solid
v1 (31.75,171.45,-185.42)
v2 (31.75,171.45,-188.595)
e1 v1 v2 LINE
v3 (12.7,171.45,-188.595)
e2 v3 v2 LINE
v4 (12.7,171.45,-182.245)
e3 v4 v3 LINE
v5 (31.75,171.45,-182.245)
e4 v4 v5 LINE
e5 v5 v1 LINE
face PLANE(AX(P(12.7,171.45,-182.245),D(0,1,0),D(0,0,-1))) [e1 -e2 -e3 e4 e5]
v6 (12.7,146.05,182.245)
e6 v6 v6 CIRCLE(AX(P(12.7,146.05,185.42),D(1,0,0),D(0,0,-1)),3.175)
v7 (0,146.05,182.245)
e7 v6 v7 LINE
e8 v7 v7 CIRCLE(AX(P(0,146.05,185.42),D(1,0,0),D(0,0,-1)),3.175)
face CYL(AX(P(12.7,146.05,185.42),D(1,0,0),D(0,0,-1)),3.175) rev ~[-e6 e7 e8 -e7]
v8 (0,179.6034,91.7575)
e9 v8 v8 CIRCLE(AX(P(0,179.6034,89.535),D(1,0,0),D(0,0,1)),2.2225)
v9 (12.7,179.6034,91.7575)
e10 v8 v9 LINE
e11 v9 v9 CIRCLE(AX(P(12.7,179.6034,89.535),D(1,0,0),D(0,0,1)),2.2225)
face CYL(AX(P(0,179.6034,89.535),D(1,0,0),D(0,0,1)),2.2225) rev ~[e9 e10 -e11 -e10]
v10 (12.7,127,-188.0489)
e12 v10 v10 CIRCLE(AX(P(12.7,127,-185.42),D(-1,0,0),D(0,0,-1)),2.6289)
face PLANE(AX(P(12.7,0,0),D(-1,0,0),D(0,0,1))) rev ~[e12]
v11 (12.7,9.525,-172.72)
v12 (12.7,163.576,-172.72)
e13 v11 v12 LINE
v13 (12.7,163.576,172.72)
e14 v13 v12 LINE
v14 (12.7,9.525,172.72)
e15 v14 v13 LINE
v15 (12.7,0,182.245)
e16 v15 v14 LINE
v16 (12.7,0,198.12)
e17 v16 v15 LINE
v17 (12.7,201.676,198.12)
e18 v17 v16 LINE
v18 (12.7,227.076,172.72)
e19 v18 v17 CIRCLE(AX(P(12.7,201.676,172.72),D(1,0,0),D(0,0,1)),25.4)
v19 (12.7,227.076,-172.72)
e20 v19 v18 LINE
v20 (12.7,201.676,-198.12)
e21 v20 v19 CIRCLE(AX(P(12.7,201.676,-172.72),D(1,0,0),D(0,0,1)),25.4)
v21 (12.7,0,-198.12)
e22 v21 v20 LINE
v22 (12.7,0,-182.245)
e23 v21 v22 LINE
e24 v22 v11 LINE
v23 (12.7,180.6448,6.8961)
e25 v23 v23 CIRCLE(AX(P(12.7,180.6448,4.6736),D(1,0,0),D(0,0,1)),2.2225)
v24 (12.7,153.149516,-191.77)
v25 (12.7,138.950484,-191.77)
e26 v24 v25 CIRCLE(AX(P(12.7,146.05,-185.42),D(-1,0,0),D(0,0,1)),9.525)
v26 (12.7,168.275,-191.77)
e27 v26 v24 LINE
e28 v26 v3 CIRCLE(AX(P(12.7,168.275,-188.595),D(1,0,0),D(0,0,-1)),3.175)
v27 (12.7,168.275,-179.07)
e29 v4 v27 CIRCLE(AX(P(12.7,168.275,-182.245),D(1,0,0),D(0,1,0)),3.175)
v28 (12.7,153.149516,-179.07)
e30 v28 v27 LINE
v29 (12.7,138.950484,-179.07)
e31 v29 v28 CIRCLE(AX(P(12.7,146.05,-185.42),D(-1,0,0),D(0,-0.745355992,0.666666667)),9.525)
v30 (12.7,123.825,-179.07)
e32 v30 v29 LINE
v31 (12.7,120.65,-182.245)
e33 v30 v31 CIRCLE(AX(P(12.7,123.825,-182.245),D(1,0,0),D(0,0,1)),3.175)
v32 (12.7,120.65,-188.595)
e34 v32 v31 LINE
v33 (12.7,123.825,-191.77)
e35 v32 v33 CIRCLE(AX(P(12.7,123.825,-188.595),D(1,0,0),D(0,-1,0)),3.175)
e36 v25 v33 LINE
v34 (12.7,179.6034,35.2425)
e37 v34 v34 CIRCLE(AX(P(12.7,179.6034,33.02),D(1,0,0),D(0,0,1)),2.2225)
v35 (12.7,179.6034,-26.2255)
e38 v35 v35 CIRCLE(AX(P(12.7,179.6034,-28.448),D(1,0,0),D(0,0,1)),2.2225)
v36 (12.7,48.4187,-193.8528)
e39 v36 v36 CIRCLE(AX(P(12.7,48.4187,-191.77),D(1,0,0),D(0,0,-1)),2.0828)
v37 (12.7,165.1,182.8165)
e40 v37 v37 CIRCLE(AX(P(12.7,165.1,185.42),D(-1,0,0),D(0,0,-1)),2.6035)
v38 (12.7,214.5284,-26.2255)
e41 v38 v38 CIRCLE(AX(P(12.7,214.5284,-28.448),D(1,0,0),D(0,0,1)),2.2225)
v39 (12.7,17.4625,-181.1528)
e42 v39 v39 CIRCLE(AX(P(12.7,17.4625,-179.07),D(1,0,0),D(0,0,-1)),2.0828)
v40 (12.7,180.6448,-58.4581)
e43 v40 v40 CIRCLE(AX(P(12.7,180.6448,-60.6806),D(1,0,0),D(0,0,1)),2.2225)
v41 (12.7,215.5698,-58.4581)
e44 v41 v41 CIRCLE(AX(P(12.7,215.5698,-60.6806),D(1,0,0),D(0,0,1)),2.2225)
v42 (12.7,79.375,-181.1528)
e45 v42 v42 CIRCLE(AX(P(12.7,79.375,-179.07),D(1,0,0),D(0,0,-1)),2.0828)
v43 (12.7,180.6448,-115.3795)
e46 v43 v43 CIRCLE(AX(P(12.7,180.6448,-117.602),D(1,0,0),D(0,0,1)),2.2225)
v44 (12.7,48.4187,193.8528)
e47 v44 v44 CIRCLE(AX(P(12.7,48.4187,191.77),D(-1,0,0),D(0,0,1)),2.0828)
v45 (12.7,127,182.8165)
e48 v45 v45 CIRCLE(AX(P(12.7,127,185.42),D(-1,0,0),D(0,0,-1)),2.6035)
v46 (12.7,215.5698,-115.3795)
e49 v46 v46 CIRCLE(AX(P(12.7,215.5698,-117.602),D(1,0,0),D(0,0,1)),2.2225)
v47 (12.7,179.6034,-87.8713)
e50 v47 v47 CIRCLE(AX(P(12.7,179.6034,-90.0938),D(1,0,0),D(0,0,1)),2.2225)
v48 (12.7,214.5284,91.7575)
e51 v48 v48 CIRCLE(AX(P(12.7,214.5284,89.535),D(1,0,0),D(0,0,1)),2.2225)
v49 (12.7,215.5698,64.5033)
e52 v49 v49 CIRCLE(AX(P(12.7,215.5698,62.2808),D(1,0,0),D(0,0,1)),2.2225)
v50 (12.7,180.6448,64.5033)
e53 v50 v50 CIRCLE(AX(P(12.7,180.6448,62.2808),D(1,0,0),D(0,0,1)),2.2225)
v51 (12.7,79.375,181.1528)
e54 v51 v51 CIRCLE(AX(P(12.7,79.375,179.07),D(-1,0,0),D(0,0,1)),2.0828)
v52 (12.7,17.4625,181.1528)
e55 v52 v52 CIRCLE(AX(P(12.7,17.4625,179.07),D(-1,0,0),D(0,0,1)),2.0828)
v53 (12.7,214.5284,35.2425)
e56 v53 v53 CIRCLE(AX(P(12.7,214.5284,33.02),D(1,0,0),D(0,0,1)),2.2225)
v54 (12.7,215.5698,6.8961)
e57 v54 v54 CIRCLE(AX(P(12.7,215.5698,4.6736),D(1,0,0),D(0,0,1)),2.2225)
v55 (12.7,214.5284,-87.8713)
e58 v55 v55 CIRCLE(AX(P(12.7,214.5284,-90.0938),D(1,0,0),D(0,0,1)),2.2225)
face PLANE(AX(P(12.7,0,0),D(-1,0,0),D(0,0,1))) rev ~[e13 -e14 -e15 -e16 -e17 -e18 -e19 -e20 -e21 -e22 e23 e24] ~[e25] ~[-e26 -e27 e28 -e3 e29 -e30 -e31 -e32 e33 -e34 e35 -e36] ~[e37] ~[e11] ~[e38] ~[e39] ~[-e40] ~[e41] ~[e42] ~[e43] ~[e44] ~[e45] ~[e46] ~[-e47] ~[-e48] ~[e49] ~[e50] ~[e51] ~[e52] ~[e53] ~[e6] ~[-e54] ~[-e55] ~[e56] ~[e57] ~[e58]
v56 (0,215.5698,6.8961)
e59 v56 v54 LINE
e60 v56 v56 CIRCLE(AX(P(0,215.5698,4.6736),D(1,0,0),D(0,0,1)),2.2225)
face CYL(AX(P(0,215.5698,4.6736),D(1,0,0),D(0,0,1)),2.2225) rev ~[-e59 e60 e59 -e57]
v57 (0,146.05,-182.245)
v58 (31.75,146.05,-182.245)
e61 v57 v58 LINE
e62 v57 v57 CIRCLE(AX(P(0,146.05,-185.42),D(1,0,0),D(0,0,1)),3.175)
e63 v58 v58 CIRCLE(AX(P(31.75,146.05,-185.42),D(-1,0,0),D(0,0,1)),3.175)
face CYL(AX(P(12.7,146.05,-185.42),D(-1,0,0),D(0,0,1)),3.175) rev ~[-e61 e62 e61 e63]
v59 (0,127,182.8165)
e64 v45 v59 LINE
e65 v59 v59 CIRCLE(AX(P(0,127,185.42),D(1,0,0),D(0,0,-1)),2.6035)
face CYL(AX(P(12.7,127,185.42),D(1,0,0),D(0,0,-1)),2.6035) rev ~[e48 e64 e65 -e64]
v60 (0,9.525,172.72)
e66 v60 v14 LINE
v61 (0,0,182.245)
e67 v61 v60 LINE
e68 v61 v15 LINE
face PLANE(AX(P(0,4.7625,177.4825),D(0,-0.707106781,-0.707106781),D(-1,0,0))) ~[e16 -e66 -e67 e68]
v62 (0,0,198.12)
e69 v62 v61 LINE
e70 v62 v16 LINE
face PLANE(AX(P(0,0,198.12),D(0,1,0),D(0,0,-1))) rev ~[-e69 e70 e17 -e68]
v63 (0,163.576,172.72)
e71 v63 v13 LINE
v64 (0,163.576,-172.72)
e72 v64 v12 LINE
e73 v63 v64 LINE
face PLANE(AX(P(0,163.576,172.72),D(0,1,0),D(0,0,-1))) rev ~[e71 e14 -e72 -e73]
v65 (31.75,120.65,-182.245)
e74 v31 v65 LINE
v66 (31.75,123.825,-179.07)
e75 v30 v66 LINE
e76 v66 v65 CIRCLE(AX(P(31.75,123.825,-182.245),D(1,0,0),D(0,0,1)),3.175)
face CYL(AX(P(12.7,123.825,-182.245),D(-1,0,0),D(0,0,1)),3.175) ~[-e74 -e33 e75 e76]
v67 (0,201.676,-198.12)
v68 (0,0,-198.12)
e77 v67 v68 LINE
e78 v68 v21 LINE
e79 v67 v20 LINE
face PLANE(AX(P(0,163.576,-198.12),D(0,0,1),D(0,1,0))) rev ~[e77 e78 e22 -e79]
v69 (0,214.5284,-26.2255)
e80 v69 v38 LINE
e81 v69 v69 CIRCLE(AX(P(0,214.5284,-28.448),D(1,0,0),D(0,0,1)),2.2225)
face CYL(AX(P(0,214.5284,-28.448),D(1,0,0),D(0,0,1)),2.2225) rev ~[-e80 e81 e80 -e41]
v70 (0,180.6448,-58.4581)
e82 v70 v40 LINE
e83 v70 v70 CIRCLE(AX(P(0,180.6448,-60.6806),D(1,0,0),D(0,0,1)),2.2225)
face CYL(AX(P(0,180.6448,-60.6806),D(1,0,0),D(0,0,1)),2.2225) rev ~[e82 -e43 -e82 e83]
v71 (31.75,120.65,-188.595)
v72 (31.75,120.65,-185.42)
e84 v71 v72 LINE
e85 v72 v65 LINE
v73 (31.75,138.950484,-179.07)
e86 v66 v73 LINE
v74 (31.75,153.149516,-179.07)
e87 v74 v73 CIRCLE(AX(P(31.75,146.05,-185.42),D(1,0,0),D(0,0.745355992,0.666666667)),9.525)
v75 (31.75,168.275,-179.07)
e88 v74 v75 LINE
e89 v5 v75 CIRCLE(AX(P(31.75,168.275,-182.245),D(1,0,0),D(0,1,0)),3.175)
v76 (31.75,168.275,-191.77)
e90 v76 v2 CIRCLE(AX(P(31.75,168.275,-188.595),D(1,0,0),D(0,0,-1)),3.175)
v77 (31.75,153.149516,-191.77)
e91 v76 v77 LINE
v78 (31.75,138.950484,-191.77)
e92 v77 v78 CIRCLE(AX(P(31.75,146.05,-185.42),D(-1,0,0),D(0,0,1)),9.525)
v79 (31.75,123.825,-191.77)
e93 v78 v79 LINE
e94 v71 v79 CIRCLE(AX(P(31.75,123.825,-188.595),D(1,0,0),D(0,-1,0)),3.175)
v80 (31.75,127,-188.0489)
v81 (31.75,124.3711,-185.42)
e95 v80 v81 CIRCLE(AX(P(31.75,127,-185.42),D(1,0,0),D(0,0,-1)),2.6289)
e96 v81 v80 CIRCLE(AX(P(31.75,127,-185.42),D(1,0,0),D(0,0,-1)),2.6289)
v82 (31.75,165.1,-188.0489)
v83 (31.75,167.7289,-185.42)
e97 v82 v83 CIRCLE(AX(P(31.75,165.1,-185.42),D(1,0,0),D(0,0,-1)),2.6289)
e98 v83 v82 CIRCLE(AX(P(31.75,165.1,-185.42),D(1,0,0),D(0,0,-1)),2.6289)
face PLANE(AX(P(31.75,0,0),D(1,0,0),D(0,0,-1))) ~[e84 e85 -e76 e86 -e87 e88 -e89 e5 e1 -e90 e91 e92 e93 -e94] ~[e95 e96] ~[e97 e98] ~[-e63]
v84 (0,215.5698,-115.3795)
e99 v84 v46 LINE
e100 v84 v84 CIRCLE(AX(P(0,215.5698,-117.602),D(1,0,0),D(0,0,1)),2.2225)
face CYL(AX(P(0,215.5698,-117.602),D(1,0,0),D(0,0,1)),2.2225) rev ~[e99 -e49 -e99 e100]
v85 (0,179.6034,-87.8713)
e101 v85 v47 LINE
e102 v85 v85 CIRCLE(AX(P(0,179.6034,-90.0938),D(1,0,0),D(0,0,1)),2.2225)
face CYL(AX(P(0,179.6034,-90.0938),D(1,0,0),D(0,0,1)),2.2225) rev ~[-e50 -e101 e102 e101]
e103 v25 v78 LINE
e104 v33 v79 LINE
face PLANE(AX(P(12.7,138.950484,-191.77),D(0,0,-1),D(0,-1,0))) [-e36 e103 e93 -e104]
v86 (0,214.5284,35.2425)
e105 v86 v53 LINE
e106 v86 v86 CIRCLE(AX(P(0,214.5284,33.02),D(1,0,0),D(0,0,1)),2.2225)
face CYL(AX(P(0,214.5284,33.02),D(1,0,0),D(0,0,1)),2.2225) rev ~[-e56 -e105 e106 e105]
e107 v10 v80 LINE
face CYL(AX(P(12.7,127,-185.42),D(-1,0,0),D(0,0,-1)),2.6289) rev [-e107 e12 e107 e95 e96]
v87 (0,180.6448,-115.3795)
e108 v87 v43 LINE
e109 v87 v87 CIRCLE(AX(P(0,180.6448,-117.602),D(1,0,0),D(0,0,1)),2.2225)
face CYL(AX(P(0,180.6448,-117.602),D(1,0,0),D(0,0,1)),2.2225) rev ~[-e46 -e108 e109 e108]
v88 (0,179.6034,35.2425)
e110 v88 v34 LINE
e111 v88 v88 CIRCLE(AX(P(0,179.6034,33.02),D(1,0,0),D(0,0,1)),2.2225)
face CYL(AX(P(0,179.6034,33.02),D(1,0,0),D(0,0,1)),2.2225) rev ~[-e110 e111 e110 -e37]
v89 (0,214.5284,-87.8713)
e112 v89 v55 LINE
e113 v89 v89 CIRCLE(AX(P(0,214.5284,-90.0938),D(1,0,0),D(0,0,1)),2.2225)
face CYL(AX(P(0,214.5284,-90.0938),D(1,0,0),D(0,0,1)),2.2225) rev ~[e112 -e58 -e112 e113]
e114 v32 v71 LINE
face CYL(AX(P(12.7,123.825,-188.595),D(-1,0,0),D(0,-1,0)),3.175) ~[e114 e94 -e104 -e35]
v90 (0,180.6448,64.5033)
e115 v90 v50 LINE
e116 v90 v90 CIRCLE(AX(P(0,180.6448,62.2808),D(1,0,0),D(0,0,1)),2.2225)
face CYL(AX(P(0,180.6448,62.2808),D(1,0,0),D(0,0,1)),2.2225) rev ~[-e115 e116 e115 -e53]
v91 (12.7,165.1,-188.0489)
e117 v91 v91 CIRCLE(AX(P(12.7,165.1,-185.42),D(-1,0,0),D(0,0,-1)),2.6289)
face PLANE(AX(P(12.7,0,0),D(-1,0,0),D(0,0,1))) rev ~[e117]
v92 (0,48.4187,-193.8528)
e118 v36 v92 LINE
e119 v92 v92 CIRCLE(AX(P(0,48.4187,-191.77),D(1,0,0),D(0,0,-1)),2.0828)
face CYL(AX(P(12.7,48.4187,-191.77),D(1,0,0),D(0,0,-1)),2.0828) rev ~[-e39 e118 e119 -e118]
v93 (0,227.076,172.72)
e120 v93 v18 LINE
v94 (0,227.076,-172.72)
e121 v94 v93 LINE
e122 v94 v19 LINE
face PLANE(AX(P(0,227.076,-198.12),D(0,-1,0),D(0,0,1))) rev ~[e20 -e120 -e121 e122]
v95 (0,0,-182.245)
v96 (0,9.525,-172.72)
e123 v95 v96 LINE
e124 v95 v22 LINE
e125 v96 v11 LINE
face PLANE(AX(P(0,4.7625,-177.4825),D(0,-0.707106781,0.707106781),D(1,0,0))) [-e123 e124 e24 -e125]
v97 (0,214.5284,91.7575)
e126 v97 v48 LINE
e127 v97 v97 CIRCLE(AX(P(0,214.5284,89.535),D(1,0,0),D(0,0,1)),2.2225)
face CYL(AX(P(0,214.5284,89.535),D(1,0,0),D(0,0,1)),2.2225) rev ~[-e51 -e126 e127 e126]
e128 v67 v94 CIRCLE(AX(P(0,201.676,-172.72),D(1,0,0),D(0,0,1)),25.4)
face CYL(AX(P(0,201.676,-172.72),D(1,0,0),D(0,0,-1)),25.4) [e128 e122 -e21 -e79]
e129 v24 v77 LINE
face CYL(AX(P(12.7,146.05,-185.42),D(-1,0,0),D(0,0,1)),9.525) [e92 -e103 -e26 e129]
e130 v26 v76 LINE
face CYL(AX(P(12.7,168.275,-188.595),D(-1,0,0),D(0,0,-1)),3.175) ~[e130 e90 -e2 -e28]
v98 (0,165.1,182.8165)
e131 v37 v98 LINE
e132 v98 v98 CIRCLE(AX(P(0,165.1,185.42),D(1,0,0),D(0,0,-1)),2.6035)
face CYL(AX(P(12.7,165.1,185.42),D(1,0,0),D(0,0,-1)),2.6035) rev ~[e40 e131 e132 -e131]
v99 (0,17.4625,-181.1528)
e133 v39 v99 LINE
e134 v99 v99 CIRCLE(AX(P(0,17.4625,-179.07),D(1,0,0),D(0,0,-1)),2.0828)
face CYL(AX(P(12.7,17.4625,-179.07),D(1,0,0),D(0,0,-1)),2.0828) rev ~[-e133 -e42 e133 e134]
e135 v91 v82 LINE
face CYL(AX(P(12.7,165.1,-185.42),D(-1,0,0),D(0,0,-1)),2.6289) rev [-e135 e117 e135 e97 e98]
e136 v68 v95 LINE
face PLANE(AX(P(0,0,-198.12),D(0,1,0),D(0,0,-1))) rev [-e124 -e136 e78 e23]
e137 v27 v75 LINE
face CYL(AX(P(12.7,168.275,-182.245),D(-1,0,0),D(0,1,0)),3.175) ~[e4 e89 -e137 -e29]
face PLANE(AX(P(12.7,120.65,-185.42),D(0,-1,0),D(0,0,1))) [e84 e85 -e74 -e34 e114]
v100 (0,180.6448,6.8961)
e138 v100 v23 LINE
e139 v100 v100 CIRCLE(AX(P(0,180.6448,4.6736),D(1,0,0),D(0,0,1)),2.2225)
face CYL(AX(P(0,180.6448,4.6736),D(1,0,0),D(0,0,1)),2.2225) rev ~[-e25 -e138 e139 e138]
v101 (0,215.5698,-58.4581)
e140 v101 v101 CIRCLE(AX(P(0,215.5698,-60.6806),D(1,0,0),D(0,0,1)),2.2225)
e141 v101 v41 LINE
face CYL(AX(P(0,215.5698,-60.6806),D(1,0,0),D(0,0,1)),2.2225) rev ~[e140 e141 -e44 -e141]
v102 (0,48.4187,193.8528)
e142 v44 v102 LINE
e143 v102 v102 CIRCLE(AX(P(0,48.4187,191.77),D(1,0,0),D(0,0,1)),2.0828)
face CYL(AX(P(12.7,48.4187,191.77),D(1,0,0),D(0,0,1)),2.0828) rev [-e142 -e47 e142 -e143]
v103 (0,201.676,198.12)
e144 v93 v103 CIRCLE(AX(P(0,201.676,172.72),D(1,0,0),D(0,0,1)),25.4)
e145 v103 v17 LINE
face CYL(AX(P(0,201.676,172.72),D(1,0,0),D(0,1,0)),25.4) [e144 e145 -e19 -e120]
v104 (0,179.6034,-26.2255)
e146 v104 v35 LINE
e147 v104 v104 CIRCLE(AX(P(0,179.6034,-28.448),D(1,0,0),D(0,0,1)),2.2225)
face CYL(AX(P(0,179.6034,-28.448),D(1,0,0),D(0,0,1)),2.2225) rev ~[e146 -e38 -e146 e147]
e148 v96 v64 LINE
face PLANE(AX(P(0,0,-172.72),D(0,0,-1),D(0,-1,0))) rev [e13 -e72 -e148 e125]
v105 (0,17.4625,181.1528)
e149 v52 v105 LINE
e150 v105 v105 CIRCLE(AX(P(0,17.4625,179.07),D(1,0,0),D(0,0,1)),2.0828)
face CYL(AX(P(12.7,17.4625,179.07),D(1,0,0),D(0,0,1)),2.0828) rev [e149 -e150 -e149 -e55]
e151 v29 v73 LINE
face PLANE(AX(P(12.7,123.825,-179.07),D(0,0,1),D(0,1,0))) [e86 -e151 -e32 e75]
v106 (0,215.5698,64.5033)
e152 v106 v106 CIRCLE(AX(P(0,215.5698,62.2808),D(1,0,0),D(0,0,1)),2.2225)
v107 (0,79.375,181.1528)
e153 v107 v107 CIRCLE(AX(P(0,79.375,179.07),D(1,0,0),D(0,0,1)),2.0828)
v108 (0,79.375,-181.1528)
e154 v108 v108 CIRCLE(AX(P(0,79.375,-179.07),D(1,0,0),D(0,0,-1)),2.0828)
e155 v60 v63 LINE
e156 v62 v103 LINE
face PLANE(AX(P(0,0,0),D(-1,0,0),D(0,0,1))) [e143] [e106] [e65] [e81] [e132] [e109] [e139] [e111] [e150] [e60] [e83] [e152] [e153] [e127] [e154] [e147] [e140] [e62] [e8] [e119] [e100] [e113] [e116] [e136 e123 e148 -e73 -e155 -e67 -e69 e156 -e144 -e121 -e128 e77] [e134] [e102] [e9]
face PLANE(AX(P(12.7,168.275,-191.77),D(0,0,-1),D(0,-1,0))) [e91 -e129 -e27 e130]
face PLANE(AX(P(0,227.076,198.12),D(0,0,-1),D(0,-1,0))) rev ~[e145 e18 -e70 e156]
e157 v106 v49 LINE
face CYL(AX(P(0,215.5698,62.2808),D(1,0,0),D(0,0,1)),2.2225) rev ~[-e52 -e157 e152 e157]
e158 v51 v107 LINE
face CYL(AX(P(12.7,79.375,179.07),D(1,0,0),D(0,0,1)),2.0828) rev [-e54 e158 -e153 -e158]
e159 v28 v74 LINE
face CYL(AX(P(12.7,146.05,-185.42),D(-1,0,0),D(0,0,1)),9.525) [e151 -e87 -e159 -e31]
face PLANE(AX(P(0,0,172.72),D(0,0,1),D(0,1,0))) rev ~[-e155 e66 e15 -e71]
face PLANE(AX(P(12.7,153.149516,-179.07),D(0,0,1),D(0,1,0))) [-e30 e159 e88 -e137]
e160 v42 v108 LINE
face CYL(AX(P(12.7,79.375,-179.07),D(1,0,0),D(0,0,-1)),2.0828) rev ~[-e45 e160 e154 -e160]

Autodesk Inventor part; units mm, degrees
ref_plane "YZ Plane" through (0, 0, 0) normal (1, 0, 0) x (0, 1, 0)
ref_plane "XZ Plane" through (0, 0, 0) normal (0, 1, 0) x (-1, 0, 0)
ref_plane "XY Plane" through (0, 0, 0) normal (0, 0, 1) x (1, 0, 0)
sketch "Sketch1" plane through (0, 0, 0) normal (1, 0, 0) x (0, 1, 0)
  line L0 (0, 0) -> (45.3157, 0)
  line L1 (0, 172.72) -> (163.576, 172.72)
  line L2 (163.576, 172.72) -> (163.576, 198.12)
  line L3 (163.576, 198.12) -> (0, 198.12)
  line L4 (0, 198.12) -> (0, 172.72)
  dimension "d0" = 345.44
  dimension "d1" = 163.576
  dimension "d2" = 25.4
extrude "Extrusion1" add sketch "Sketch1" along normal blind 12.7
sketch "Sketch3" plane through (12.7, 0, 0) normal (1, 0, 0) x (0, 0, -1)
  circle A0 centre (-185.42, 146.05) radius 3.175
  line L0 (-172.72, 0) -> (-172.72, 163.576) projected
  line L1 (-198.12, 0) -> (-172.72, 0) projected
  point P0 (0, 0)
  dimension "d10" = 6.35
  dimension "d11" = 12.7
  dimension "d62" = 146.05
extrude "Extrusion3" cut sketch "Sketch3" against normal blind 25.4
chamfer "Chamfer1" distance 9.525 angle 45 1 edges at (6.35, 0, 172.72)
sketch "Sketch4" plane through (12.7, 0, 0) normal (1, 0, 0) x (0, 0, -1)
  circle A0 centre (-185.42, 146.05) radius 3.175 projected
  circle A1 centre (-185.42, 146.05) radius 9.525
  point P0 (0, 0)
  dimension "d18" = 19.05
extrude "Extrusion4" add sketch "Sketch4" along normal blind 19.05
mirror "Mirror2" about plane through (0, 0, 0) normal (0, 0, 1) of "Extrusion1", "Extrusion3", "Chamfer1", "Extrusion4"
sketch "Sketch5" plane through (0, 0, 0) normal (-1, 0, 0) x (0, 0, 1)
  line L0 (172.72, 163.576) -> (198.12, 163.576) projected
  line L1 (198.12, 163.576) -> (-198.12, 163.576)
  line L2 (-198.12, 163.576) -> (-198.12, 227.076)
  line L3 (-198.12, 227.076) -> (198.12, 227.076)
  line L4 (198.12, 227.076) -> (198.12, 163.576)
  point P0 (0, 0)
  dimension "d21" = 63.5
extrude "Extrusion5" add sketch "Sketch5" against normal up to surface (12.7 mm away)
fillet "Fillet2" radius 25.4 2 edges at (6.35, 227.076, 198.12) (6.35, 227.076, -198.12)
sketch "Sketch6" plane through (12.7, 0, 0) normal (1, 0, 0) x (0, 0, -1)
  line L0 (188.595, 120.65) -> (182.245, 120.65)
  line L1 (179.07, 123.825) -> (179.07, 168.275)
  line L2 (182.245, 171.45) -> (188.595, 171.45)
  line L3 (191.77, 168.275) -> (191.77, 123.825)
  circle A0 centre (185.42, 146.05) radius 3.175 projected
  line L4 (191.77, 120.65) -> (179.07, 171.45) construction
  line L5 (179.07, 120.65) -> (191.77, 171.45) construction
  arc A1 (182.245, 171.45) -> (179.07, 168.275) centre (182.245, 168.275) ccw
  arc A2 (191.77, 168.275) -> (188.595, 171.45) centre (188.595, 168.275) ccw
  arc A3 (188.595, 120.65) -> (191.77, 123.825) centre (188.595, 123.825) ccw
  arc A4 (179.07, 123.825) -> (182.245, 120.65) centre (182.245, 123.825) ccw
  circle A5 centre (185.42, 146.05) radius 9.525 projected
  circle A6 centre (185.42, 165.1) radius 2.6289
  line L6 (185.42, 165.1) -> (185.42, 171.45)
  circle A7 centre (185.42, 127) radius 2.6289
  line L7 (185.42, 127) -> (185.42, 120.65)
  point P0 (0, 0)
  point P1 (191.77, 138.9505)
  point P2 (179.07, 138.9505)
  point P3 (179.07, 153.1495)
  point P4 (191.77, 153.1495)
  dimension "d25" = 12.7
  dimension "d26" = 50.8
  dimension "d27" = 3.175
  dimension "d28" = 5.2578
  dimension "d29" = 6.35
  dimension "d30" = 5.2578
  dimension "d31" = 6.35
extrude "Extrusion6" add sketch "Sketch6" along normal blind 19.05 contours L0 A4 L1 A5 L3 A3 | A5 L1 A1 L2 A2 L3
sketch "Sketch9" plane through (0, 227.076, 172.72) normal (0, 1, 0) x (1, 0, 0)
  line L0 (0, 345.44) -> (0, 0) projected
  line L1 (0, 228.6) -> (6.35, 228.6)
  line L2 (6.35, 228.6) -> (6.35, 116.84)
  line L3 (6.35, 116.84) -> (12.7, 116.84)
  line L4 (12.7, 345.44) -> (12.7, 0) projected
  line L5 (0, -25.4) -> (12.7, -25.4) projected
  point P0 (0, 172.72)
  point P1 (6.35, 172.72)
  point P2 (0, 172.72)
  dimension "d47" = 6.35
  dimension "d48" = 254
sketch "Sketch10" plane through (12.7, 0, 0) normal (1, 0, 0) x (0, 0, -1)
  circle A0 centre (179.07, 17.4625) radius 2.0828
  circle A1 centre (191.77, 48.4187) radius 2.0828
  circle A2 centre (179.07, 79.375) radius 2.0828
  line L0 (185.42, 0) -> (198.12, 0)
  line L1 (198.12, 88.9) -> (198.12, 0)
  line L2 (172.72, 88.9) -> (198.12, 88.9)
  line L3 (172.72, 88.9) -> (172.72, 12.7)
  line L4 (172.72, 12.7) -> (185.42, 0)
  point P0 (0, 0)
  point P1 (-12.7, 88.9)
  dimension "d49" = 6.35
  dimension "d50" = 9.525
  dimension "d51" = 25.4
  dimension "d52" = 76.2
  dimension "d53" = 88.9
  dimension "d54" = 12.7
  dimension "d55" = 4.7625
  dimension "d56" = 6.35
  dimension "d57" = 19.05
  dimension "d58" = 40.4813
  dimension "d59" = 4.1656
extrude "Extrusion8" cut sketch "Sketch10" against normal through all contours A0 | A1 | A2
mirror "Mirror3" about plane through (0, 0, 0) normal (0, 0, 1) of "Extrusion8"
sketch "Sketch11" plane through (31.75, 146.05, 185.42) normal (1, 0, 0) x (0, 0, -1)
  circle A0 centre (0, 0) radius 9.525 projected
  circle A1 centre (0, 0) radius 3.175 projected
  point P0 (185.42, -146.05)
extrude "Extrusion9" cut sketch "Sketch11" against normal up to surface (19.05 mm away)
sketch "Sketch12" plane through (12.7, 0, 0) normal (1, 0, 0) x (0, 0, -1)
  circle A0 centre (-185.42, 146.05) radius 3.175 projected
  line L0 (-185.42, 165.1) -> (-185.42, 127)
  circle A1 centre (-185.42, 165.1) radius 2.6035
  circle A2 centre (-185.42, 127) radius 2.6035
  point P0 (0, 0)
  dimension "d65" = 38.1
  dimension "d66" = 5.207
  dimension "d67" = 5.207
extrude "Extrusion10" cut sketch "Sketch12" against normal blind 25.4 contours A2 | A1
sketch "Sketch13" plane through (0, 0, 0) normal (-1, 0, 0) x (0, 0, 1)
  line L0 (-60.6806, 180.6448) -> (-117.602, 180.6448)
  line L1 (-117.602, 180.6448) -> (-117.602, 215.5698)
  line L2 (-117.602, 215.5698) -> (-60.6806, 215.5698)
  line L3 (-60.6806, 215.5698) -> (-60.6806, 180.6448)
  line L4 (-60.6806, 180.6448) -> (-117.602, 215.5698) construction
  line L5 (-117.602, 180.6448) -> (-60.6806, 215.5698) construction
  line L6 (-198.12, 201.676) -> (-198.12, 0) projected
  line L7 (-90.0938, 214.5284) -> (-90.0938, 179.6034)
  line L8 (172.72, 227.076) -> (-172.72, 227.076) projected
  line L9 (-90.0938, 214.5284) -> (-28.448, 214.5284)
  line L10 (-28.448, 214.5284) -> (-28.448, 179.6034)
  line L11 (-28.448, 179.6034) -> (-90.0938, 179.6034)
  line L12 (-90.0938, 179.6034) -> (-90.0938, 214.5284)
  line L13 (-60.6806, 215.5698) -> (4.6736, 215.5698)
  line L14 (4.6736, 215.5698) -> (4.6736, 180.6448)
  line L15 (4.6736, 180.6448) -> (-60.6806, 180.6448)
  line L16 (-60.6806, 180.6448) -> (-60.6806, 215.5698)
  line L17 (-28.448, 214.5284) -> (33.02, 214.5284)
  line L18 (33.02, 214.5284) -> (33.02, 179.6034)
  line L19 (33.02, 179.6034) -> (-28.448, 179.6034)
  line L20 (-28.448, 179.6034) -> (-28.448, 214.5284)
  line L21 (4.6736, 180.6448) -> (62.2808, 180.6448)
  line L22 (62.2808, 180.6448) -> (62.2808, 215.5698)
  line L23 (62.2808, 215.5698) -> (4.6736, 215.5698)
  line L24 (4.6736, 215.5698) -> (4.6736, 180.6448)
  line L25 (33.02, 214.5284) -> (89.535, 214.5284)
  line L26 (89.535, 214.5284) -> (89.535, 179.6034)
  line L27 (89.535, 179.6034) -> (33.02, 179.6034)
  line L28 (33.02, 179.6034) -> (33.02, 214.5284)
  point P0 (0, 0)
  point P1 (-89.1413, 198.1073)
  point P2 (-89.1413, 198.1073)
  dimension "d71" = 80.518
  dimension "d72" = 34.925
  dimension "d74" = 1.0414
  dimension "d75" = 27.5082
  dimension "d76" = 56.9214
  dimension "d77" = 11.5062
  dimension "d78" = 89.154
  dimension "d79" = 65.3542
  dimension "d80" = 61.468
  dimension "d81" = 57.6072
  dimension "d82" = 56.515
hole "Hole1" at (0, 215.5698, -117.602) at (0, 180.6448, -117.602) at (0, 214.5284, -90.0938) at (0, 179.6034, -90.0938) at (0, 180.6448, -60.6806) at (0, 215.5698, -60.6806) at (0, 214.5284, -28.448) at (0, 179.6034, -28.448) at (0, 215.5698, 4.6736) at (0, 180.6448, 4.6736) at (0, 214.5284, 33.02) at (0, 179.6034, 33.02) at (0, 215.5698, 62.2808) at (0, 180.6448, 62.2808) at (0, 179.6034, 89.535) at (0, 214.5284, 89.535) direction (1, 0, 0) diameter 4.445 end through all
sketch "Sketch14" plane through (0, 227.076, 172.72) normal (0, 1, 0) x (1, 0, 0)
  line L0 (0, 345.44) -> (0, 0) projected
  line L1 (6.35, 245.745) -> (6.35, 99.695)
  line L2 (12.7, 345.44) -> (12.7, 0) projected
  line L3 (6.35, 99.695) -> (0, 99.695)
  line L4 (0, 0) -> (0, 345.44) projected
  line L5 (6.35, 245.745) -> (12.7, 245.745)
  point P0 (0, 172.72)
  point P1 (6.35, 172.72)
  point P2 (0, 172.72)
  dimension "d90" = 146.05
equation "\"d30\" = d28"
equation "\"d31\" = d29"
properties part number "Frame"
